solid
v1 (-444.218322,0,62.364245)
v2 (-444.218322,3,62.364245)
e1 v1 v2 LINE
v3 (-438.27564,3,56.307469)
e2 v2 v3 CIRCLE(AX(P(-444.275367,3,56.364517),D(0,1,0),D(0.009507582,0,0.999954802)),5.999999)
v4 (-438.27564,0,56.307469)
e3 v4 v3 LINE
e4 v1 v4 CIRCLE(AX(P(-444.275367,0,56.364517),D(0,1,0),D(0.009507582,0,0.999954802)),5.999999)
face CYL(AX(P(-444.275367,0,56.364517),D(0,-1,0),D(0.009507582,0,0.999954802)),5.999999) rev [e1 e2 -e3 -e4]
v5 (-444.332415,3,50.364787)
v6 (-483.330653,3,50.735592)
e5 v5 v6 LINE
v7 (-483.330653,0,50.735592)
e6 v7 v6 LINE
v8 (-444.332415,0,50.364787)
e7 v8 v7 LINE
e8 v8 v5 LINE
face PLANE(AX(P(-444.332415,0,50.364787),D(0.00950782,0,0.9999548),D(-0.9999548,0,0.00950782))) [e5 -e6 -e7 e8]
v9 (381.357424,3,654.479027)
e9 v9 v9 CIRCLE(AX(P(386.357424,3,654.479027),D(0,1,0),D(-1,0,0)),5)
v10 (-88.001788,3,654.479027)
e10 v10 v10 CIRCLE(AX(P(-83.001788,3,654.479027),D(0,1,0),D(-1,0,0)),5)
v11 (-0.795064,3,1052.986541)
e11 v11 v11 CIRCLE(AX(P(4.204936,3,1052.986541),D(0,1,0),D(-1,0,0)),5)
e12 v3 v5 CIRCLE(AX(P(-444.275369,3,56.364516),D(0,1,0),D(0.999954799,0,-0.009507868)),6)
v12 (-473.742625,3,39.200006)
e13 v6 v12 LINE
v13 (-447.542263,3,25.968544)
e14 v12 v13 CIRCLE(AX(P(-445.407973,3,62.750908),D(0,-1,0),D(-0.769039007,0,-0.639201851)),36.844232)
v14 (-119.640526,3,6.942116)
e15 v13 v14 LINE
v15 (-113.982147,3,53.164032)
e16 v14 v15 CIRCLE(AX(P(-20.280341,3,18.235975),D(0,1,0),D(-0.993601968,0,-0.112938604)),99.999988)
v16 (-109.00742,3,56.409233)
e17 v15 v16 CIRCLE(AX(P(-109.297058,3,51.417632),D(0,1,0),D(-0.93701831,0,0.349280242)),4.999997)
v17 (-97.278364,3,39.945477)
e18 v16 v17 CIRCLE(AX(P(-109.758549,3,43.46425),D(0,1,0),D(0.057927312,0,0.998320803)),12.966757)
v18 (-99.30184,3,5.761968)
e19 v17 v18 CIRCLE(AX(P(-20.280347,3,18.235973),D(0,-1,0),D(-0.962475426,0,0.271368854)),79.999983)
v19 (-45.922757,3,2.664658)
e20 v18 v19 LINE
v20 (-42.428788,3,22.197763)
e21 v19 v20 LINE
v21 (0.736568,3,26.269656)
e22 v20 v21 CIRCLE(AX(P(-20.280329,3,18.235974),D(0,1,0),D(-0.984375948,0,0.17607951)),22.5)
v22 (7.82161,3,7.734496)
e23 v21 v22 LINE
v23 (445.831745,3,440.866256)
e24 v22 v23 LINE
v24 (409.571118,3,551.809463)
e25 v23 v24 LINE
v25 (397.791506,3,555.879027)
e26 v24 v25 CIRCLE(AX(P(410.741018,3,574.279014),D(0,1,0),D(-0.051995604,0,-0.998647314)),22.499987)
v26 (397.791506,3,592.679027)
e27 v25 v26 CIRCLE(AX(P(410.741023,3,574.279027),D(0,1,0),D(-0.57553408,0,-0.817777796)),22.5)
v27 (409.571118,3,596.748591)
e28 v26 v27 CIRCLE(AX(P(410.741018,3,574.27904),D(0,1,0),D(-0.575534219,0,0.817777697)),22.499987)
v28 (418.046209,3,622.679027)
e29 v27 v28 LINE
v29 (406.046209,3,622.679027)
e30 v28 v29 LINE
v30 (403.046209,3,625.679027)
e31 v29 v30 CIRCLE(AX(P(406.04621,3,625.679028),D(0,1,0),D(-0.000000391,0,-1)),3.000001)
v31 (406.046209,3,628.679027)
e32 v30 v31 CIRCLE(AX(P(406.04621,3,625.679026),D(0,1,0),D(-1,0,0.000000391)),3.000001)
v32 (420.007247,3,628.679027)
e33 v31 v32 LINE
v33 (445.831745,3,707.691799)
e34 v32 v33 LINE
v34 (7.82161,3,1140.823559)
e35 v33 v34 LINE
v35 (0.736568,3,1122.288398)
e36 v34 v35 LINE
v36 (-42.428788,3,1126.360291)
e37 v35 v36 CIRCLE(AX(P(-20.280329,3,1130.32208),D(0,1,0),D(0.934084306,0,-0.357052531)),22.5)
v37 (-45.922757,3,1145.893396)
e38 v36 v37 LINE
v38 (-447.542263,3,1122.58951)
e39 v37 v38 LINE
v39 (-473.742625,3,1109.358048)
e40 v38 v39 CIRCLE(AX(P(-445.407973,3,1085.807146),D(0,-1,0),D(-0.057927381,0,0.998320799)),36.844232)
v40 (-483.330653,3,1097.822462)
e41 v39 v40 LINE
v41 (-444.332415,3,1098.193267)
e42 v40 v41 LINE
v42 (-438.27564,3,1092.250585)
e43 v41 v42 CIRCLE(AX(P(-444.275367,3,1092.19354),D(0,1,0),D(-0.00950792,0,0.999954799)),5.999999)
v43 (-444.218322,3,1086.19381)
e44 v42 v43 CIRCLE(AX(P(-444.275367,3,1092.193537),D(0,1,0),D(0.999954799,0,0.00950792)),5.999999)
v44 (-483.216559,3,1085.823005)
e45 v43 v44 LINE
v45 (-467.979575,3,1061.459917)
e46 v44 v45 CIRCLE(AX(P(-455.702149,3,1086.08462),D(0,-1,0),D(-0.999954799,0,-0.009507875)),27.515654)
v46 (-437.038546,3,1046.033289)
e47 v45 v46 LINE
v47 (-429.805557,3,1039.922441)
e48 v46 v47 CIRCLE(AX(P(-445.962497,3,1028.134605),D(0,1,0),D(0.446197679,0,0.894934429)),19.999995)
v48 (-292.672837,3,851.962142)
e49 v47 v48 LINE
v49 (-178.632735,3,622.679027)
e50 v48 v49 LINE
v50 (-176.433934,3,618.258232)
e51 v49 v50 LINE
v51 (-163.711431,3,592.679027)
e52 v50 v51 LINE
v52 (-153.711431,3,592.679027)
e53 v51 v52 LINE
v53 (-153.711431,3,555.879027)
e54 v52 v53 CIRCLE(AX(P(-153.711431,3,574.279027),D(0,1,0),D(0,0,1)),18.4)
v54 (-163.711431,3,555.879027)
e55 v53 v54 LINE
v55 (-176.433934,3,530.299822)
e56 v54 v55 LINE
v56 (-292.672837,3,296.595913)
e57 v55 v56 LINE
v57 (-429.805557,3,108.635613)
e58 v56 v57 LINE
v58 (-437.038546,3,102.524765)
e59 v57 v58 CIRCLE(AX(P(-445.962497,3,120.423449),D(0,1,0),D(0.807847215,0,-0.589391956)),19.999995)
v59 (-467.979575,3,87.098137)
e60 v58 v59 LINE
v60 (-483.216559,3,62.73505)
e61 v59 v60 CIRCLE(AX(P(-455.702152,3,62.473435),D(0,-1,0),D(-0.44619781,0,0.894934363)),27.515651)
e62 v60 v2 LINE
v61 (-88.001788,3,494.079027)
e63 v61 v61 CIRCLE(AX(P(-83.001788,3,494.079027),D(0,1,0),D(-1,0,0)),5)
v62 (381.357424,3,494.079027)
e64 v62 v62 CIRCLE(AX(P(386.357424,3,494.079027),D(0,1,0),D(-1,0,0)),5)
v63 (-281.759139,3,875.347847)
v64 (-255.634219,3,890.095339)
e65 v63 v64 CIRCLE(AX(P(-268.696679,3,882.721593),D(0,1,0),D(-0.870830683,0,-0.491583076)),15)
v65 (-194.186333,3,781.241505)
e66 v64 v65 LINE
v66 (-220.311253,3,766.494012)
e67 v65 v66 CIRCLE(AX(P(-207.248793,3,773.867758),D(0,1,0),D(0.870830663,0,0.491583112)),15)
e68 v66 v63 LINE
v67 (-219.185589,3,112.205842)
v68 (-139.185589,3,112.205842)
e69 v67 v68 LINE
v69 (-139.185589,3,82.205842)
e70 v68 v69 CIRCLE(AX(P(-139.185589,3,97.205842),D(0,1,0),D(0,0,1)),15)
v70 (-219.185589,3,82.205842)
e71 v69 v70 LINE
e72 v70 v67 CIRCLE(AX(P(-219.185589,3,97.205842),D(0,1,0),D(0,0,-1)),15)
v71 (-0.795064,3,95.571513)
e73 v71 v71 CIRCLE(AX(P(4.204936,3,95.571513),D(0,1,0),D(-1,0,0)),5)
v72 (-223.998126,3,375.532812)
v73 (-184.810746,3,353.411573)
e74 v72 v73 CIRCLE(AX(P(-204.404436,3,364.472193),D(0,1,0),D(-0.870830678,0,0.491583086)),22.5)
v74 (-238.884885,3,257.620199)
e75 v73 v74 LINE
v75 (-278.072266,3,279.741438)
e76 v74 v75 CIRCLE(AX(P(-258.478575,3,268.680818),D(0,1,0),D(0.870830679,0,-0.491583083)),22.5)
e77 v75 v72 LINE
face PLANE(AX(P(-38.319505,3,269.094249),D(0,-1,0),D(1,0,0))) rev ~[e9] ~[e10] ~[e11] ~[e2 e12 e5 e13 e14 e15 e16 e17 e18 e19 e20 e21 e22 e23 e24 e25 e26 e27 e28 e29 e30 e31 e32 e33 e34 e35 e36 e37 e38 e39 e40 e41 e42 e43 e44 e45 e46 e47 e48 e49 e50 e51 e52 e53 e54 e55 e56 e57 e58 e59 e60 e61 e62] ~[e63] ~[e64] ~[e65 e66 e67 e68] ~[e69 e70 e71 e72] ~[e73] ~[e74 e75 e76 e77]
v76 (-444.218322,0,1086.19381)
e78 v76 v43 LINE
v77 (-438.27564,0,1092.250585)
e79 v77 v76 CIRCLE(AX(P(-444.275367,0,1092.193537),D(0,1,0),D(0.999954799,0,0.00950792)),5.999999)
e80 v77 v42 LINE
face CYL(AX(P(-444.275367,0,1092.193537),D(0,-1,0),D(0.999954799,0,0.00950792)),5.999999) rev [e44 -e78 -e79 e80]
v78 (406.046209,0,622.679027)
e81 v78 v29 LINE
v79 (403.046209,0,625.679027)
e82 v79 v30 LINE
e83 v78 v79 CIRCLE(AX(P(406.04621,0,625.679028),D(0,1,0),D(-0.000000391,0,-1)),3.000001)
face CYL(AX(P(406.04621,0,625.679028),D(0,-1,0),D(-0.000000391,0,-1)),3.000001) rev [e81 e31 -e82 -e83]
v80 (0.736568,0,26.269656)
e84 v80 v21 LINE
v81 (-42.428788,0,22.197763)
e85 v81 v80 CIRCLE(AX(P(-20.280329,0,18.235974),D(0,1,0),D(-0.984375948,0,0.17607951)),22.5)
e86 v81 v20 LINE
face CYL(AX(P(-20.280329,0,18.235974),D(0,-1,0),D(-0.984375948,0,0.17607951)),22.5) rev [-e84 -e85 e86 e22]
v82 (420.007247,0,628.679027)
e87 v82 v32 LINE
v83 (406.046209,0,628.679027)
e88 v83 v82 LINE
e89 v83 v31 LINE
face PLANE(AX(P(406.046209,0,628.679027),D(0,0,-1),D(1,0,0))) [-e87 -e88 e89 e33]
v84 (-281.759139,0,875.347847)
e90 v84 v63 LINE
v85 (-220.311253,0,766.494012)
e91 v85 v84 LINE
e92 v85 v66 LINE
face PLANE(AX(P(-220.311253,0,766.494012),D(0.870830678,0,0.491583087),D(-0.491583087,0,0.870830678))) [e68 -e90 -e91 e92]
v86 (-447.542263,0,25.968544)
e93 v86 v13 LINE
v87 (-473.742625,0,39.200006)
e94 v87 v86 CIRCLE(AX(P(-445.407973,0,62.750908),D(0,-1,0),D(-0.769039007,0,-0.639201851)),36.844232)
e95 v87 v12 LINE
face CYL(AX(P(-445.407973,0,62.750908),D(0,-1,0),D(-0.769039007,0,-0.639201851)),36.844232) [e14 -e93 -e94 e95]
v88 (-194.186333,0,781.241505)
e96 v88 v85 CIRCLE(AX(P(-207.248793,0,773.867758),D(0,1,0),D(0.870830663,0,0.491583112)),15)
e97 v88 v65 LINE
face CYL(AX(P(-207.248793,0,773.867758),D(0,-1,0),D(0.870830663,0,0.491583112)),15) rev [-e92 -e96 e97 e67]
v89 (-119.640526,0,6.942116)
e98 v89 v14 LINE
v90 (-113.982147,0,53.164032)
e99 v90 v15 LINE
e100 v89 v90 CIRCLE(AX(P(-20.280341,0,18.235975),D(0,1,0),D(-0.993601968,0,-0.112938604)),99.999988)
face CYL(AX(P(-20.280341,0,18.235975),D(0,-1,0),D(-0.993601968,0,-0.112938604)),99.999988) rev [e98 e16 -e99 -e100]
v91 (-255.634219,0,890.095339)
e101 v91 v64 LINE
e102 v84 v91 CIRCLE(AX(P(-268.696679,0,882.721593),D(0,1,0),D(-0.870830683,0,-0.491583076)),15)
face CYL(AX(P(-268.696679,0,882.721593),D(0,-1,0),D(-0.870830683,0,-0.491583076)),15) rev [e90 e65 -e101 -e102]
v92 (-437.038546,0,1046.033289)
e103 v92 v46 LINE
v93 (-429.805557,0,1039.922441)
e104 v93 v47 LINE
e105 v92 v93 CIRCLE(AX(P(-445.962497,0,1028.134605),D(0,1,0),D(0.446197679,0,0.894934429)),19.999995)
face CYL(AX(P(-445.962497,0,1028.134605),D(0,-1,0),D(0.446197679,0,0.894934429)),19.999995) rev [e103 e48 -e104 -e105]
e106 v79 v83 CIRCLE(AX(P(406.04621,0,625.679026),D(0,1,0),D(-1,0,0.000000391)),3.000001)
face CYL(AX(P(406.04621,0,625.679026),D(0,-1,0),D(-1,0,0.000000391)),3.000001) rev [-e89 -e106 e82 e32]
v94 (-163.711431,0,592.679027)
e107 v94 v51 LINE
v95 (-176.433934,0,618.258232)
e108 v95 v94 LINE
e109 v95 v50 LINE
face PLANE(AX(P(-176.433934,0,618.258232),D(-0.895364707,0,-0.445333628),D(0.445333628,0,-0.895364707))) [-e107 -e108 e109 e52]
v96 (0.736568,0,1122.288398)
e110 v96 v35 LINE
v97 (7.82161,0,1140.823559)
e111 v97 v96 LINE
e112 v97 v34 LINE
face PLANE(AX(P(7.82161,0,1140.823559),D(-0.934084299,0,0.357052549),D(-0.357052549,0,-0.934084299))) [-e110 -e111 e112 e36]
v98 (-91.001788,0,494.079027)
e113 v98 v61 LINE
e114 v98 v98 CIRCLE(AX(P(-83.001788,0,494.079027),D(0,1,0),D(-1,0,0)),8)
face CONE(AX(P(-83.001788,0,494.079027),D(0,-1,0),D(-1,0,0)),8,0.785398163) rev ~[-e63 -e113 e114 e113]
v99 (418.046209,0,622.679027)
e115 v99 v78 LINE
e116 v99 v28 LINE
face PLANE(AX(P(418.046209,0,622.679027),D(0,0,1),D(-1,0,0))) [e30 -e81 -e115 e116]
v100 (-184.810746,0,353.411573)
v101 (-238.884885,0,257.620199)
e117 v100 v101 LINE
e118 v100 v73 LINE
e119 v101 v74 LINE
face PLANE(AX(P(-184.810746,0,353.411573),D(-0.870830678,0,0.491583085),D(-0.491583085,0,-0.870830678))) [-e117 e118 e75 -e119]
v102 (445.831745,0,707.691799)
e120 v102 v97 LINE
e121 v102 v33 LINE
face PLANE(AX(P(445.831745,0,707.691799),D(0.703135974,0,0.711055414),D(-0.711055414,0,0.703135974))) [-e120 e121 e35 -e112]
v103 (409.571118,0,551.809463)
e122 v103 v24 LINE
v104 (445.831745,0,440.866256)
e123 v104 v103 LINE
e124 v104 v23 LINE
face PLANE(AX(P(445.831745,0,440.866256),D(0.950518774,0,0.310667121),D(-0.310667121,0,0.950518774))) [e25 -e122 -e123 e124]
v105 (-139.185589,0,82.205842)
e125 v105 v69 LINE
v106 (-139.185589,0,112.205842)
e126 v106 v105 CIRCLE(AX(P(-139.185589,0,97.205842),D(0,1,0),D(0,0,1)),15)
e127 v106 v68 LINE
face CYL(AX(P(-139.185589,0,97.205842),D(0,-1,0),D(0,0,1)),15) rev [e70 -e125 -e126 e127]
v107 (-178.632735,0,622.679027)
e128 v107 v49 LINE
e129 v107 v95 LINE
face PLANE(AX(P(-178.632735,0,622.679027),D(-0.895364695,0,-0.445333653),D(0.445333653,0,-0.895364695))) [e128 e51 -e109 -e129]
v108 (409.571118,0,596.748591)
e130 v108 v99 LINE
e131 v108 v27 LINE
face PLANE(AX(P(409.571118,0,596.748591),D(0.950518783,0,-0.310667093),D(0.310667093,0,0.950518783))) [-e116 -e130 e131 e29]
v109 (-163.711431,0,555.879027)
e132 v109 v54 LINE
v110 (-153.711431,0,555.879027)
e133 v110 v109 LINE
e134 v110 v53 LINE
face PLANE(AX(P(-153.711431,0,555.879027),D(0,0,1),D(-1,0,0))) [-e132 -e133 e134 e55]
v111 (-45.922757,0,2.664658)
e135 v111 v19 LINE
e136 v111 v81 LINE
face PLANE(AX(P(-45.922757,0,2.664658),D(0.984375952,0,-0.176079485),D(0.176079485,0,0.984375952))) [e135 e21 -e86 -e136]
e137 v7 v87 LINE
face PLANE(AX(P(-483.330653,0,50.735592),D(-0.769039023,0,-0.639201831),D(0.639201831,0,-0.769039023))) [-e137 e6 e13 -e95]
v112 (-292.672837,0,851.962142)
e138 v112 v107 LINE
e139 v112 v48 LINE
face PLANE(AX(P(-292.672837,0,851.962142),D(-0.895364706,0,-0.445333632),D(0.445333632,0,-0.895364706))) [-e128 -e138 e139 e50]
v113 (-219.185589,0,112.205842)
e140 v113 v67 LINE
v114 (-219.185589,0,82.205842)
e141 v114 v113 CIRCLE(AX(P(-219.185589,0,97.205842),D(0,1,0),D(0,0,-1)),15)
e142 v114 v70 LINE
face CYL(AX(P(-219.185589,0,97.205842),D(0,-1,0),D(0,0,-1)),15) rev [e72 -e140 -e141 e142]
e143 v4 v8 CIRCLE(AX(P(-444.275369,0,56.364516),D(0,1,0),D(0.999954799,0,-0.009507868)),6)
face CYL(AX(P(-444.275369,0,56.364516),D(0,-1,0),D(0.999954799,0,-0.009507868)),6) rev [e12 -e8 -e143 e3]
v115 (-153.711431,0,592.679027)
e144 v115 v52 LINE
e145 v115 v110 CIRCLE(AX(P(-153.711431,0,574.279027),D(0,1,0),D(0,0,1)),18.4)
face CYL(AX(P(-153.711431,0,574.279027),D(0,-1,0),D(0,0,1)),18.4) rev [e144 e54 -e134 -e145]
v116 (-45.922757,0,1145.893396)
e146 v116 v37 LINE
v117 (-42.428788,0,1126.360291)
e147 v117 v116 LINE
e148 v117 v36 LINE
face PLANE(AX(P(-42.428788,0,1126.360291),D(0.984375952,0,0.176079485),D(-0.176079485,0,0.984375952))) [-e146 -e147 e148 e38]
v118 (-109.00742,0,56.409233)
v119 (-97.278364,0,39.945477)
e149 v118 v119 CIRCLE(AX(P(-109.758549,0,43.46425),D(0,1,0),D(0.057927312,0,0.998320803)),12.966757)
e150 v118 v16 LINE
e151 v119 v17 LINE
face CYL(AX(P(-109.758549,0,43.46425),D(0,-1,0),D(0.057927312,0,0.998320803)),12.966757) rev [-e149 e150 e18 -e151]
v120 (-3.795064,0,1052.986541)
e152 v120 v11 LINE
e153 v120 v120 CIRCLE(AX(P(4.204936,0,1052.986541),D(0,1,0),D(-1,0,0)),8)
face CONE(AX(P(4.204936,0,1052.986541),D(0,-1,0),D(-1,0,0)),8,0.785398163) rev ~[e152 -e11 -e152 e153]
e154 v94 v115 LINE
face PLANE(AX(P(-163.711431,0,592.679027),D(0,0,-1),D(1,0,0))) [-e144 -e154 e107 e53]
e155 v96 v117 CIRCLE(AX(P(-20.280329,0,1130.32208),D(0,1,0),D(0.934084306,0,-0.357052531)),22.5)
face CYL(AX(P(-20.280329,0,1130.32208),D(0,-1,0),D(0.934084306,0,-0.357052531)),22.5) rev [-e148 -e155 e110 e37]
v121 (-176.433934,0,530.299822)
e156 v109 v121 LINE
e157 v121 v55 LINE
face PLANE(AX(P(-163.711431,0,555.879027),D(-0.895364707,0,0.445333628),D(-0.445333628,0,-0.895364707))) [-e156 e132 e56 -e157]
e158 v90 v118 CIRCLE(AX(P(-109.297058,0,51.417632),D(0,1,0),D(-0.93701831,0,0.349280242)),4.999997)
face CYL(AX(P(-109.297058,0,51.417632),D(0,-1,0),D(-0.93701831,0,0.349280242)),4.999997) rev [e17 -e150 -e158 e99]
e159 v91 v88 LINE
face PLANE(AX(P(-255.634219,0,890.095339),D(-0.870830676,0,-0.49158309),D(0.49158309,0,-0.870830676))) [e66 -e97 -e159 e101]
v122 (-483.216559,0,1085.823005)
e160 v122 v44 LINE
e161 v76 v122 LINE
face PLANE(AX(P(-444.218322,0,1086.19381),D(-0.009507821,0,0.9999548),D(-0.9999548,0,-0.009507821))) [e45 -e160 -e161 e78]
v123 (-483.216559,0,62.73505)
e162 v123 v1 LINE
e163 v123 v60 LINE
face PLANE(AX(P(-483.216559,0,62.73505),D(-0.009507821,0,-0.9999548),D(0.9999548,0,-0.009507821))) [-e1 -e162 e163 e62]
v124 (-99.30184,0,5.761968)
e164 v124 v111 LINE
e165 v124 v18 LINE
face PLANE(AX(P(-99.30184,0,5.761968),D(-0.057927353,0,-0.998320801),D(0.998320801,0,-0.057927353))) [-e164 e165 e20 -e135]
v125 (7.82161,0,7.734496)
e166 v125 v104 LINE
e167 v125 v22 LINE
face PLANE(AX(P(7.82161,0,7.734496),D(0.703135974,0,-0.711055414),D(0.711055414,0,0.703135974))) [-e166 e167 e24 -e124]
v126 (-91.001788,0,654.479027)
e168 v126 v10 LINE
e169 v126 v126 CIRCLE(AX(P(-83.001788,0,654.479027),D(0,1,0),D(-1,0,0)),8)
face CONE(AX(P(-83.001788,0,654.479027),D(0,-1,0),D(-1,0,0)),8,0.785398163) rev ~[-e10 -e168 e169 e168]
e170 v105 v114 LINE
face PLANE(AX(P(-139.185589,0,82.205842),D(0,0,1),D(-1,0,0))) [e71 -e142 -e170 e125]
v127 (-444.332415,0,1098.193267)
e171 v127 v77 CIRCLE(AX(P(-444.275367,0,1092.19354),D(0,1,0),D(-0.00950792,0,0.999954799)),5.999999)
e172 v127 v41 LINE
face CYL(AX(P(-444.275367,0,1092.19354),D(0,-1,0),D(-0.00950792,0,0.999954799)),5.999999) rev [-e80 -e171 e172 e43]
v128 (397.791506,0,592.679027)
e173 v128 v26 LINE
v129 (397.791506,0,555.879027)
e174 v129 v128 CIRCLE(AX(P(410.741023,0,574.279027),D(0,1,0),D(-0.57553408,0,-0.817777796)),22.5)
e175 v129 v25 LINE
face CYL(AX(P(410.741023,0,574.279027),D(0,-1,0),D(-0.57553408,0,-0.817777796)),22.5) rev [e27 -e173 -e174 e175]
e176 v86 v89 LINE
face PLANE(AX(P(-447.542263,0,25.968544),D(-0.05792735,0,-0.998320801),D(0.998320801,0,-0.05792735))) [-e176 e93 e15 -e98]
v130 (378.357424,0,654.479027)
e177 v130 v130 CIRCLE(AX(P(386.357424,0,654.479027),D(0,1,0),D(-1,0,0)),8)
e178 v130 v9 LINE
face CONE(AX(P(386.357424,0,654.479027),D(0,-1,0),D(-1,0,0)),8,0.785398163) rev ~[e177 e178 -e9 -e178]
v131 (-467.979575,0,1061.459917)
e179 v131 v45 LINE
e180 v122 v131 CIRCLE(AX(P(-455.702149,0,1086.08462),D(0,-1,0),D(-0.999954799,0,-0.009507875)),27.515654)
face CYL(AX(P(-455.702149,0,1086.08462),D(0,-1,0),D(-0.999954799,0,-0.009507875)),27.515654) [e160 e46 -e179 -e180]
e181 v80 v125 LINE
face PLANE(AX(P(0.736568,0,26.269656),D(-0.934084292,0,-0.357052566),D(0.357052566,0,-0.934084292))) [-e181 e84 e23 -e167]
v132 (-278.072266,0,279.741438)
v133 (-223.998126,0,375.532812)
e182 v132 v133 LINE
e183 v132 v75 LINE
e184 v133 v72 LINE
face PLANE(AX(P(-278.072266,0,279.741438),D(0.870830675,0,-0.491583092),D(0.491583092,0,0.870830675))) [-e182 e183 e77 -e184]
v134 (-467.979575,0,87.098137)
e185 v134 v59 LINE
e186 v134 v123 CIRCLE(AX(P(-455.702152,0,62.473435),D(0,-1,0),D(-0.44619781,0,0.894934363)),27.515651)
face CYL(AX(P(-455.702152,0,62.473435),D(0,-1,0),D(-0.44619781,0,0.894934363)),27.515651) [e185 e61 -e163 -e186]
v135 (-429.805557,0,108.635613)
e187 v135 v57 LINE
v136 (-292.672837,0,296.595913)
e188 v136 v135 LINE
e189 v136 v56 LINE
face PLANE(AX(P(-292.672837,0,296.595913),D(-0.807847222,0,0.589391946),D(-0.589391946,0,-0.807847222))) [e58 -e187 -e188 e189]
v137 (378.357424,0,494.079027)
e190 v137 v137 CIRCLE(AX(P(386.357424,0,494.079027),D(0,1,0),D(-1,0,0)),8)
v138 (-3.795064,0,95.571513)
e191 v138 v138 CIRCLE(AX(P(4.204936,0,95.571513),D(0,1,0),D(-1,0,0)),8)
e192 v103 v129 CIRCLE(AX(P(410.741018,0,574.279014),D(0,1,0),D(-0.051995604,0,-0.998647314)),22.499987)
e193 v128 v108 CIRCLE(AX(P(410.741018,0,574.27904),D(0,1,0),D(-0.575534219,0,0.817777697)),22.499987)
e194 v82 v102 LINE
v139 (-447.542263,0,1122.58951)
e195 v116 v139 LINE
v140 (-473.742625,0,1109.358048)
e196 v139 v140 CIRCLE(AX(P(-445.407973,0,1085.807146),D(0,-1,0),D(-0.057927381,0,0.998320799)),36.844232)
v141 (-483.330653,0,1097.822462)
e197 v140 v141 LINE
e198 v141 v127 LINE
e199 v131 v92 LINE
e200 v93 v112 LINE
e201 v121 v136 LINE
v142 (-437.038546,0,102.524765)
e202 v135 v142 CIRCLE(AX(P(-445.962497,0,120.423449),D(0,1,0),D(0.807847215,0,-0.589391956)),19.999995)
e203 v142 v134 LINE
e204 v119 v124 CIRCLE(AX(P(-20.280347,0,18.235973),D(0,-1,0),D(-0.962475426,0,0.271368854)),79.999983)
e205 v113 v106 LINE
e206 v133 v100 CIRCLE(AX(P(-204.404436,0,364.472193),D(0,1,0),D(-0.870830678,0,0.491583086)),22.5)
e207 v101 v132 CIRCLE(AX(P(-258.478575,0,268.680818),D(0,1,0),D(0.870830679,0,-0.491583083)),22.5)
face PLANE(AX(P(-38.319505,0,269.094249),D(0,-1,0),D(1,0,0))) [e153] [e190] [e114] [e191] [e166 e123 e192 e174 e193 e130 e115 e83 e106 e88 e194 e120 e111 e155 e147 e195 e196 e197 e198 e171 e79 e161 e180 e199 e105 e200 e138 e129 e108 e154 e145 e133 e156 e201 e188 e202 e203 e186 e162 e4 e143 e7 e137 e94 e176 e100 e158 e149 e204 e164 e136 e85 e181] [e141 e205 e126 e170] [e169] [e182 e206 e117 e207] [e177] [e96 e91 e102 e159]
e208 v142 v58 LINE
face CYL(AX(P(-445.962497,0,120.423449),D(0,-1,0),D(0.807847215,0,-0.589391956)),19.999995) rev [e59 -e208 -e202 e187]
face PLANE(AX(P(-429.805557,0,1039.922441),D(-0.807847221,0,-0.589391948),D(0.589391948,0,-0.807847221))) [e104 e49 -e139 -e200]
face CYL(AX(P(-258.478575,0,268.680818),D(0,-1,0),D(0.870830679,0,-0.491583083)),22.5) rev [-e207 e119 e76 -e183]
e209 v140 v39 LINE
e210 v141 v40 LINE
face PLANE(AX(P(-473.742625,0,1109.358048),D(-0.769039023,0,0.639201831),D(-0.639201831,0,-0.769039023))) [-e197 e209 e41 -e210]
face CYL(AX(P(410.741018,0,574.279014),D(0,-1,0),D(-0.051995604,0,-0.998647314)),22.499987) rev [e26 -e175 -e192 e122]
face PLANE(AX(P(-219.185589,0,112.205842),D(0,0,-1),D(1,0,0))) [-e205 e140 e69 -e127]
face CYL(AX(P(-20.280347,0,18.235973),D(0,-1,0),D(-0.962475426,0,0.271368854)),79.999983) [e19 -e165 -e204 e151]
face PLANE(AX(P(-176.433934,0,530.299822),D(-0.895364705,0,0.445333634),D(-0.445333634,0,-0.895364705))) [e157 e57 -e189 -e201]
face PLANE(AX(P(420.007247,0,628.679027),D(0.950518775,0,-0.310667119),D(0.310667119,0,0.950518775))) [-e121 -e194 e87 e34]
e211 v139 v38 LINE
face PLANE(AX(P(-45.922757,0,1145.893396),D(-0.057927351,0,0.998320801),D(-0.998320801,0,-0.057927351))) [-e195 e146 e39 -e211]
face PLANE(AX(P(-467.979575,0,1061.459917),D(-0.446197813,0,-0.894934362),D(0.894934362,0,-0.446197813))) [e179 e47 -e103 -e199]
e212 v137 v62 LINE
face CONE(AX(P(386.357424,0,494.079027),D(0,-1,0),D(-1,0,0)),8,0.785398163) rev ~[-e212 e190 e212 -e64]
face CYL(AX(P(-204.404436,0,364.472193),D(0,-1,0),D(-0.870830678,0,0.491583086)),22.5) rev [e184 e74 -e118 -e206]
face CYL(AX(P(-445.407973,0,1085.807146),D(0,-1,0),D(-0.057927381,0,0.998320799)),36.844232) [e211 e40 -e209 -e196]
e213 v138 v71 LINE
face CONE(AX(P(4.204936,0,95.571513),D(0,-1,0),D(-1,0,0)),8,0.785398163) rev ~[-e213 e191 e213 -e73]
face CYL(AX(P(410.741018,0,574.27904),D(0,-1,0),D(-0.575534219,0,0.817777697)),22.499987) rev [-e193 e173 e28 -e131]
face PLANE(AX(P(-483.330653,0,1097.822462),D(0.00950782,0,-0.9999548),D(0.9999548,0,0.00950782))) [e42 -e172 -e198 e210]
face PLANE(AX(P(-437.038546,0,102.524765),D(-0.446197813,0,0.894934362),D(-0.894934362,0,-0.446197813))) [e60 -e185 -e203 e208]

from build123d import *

# Parameters (mm, degrees)
F1_DEPTH       = 3
F2_D           = 8
F2_CSINK_D     = 16
F2_CSINK_ANGLE = 90


with BuildPart() as f1:
    # F0 (on Front) → F1 (new body)
    with BuildSketch(Plane.XZ):
        with BuildLine():
            ThreePointArc((-42.428788, 22.197763), (-22.393428, 40.636528), (0.736568, 26.269656))
            Line((0.736568, 26.269656), (7.82161, 7.734496))
            Line((7.82161, 7.734496), (445.831745, 440.866256))
            Line((445.831745, 440.866256), (409.571118, 551.809463))
            ThreePointArc((409.571118, 551.809463), (403.393924, 553.012383), (397.791506, 555.879027))
            Line((397.791506, 555.879027), (-153.711431, 555.879027))
            Line((-153.711431, 555.879027), (-163.711431, 555.879027))
            Line((-163.711431, 555.879027), (-176.433934, 530.299822))
            Line((-176.433934, 530.299822), (-292.672837, 296.595913))
            Line((-292.672837, 296.595913), (-429.805557, 108.635613))
            ThreePointArc((-429.805557, 108.635613), (-433.055197, 105.145969), (-437.038546, 102.524765))
            Line((-437.038546, 102.524765), (-467.979575, 87.098137))
            ThreePointArc((-467.979575, 87.098137), (-479.031049, 77.063624), (-483.216559, 62.73505))
            Line((-483.216559, 62.73505), (-444.218322, 62.364245))
            ThreePointArc((-444.218322, 62.364245), (-439.992581, 60.566627), (-438.27564, 56.307469))
            ThreePointArc((-438.27564, 56.307469), (-440.073258, 52.081729), (-444.332415, 50.364787))
            Line((-444.332415, 50.364787), (-483.330653, 50.735592))
            Line((-483.330653, 50.735592), (-473.742625, 39.200006))
            ThreePointArc((-473.742625, 39.200006), (-462.016917, 29.862605), (-447.542263, 25.968544))
            Line((-447.542263, 25.968544), (-119.640526, 6.942116))
            ThreePointArc((-119.640526, 6.942116), (-119.539343, 30.38703), (-113.982147, 53.164032))
            ThreePointArc((-113.982147, 53.164032), (-112.028876, 55.605369), (-109.00742, 56.409233))
            Line((-109.00742, 56.409233), (-91.138541, 55.372396))
            ThreePointArc((-91.138541, 55.372396), (-94.609764, 47.818656), (-97.278364, 39.945477))
            ThreePointArc((-97.278364, 39.945477), (-100.140537, 22.963258), (-99.30184, 5.761968))
            Line((-99.30184, 5.761968), (-45.922757, 2.664658))
            Line((-45.922757, 2.664658), (-42.428788, 22.197763))
        make_face()
        with BuildLine():
            ThreePointArc((-219.185589, 82.205842), (-234.185589, 97.205842), (-219.185589, 112.205842))
            Line((-219.185589, 112.205842), (-139.185589, 112.205842))
            ThreePointArc((-139.185589, 112.205842), (-124.185589, 97.205842), (-139.185589, 82.205842))
            Line((-139.185589, 82.205842), (-219.185589, 82.205842))
        make_face(mode=Mode.SUBTRACT)
        with BuildLine():
            ThreePointArc((-238.884885, 257.620199), (-269.539195, 249.087128), (-278.072266, 279.741438))
            Line((-278.072266, 279.741438), (-223.998126, 375.532812))
            ThreePointArc((-223.998126, 375.532812), (-193.343817, 384.065883), (-184.810746, 353.411573))
            Line((-184.810746, 353.411573), (-238.884885, 257.620199))
        make_face(mode=Mode.SUBTRACT)
        with BuildLine():
            ThreePointArc((-109.00742, 56.409233), (-99.197738, 50.987949), (-97.278364, 39.945477))
            ThreePointArc((-97.278364, 39.945477), (-94.609764, 47.818656), (-91.138541, 55.372396))
            Line((-91.138541, 55.372396), (-109.00742, 56.409233))
        make_face()
        with BuildLine():
            Line((-153.711431, 555.879027), (397.791506, 555.879027))
            ThreePointArc((397.791506, 555.879027), (388.241023, 574.279027), (397.791506, 592.679027))
            Line((397.791506, 592.679027), (-153.711431, 592.679027))
            ThreePointArc((-153.711431, 592.679027), (-135.311431, 574.279027), (-153.711431, 555.879027))
        make_face()
        with BuildLine():
            Line((-153.711431, 592.679027), (397.791506, 592.679027))
            ThreePointArc((397.791506, 592.679027), (403.393924, 595.545671), (409.571118, 596.748591))
            Line((409.571118, 596.748591), (418.046209, 622.679027))
            Line((418.046209, 622.679027), (406.046209, 622.679027))
            ThreePointArc((406.046209, 622.679027), (403.924889, 623.557707), (403.046209, 625.679027))
            ThreePointArc((403.046209, 625.679027), (403.924889, 627.800347), (406.046209, 628.679027))
            Line((406.046209, 628.679027), (420.007247, 628.679027))
            Line((420.007247, 628.679027), (445.831745, 707.691799))
            Line((445.831745, 707.691799), (7.82161, 1140.823559))
            Line((7.82161, 1140.823559), (0.736568, 1122.288398))
            ThreePointArc((0.736568, 1122.288398), (-22.393428, 1107.921526), (-42.428788, 1126.360291))
            Line((-42.428788, 1126.360291), (-45.922757, 1145.893396))
            Line((-45.922757, 1145.893396), (-447.542263, 1122.58951))
            ThreePointArc((-447.542263, 1122.58951), (-462.016917, 1118.695449), (-473.742625, 1109.358048))
            Line((-473.742625, 1109.358048), (-483.330653, 1097.822462))
            Line((-483.330653, 1097.822462), (-444.332415, 1098.193267))
            ThreePointArc((-444.332415, 1098.193267), (-440.073258, 1096.476326), (-438.27564, 1092.250585))
            ThreePointArc((-438.27564, 1092.250585), (-439.992581, 1087.991428), (-444.218322, 1086.19381))
            Line((-444.218322, 1086.19381), (-483.216559, 1085.823005))
            ThreePointArc((-483.216559, 1085.823005), (-479.031049, 1071.494431), (-467.979575, 1061.459917))
            Line((-467.979575, 1061.459917), (-437.038546, 1046.033289))
            ThreePointArc((-437.038546, 1046.033289), (-433.055197, 1043.412085), (-429.805557, 1039.922441))
            Line((-429.805557, 1039.922441), (-292.672837, 851.962142))
            Line((-292.672837, 851.962142), (-178.632735, 622.679027))
            Line((-178.632735, 622.679027), (-176.433934, 618.258232))
            Line((-176.433934, 618.258232), (-163.711431, 592.679027))
            Line((-163.711431, 592.679027), (-153.711431, 592.679027))
        make_face()
        with BuildLine():
            ThreePointArc((-281.759139, 875.347847), (-276.070425, 895.784053), (-255.634219, 890.095339))
            Line((-255.634219, 890.095339), (-194.186333, 781.241505))
            ThreePointArc((-194.186333, 781.241505), (-199.875047, 760.805298), (-220.311253, 766.494012))
            Line((-220.311253, 766.494012), (-281.759139, 875.347847))
        make_face(mode=Mode.SUBTRACT)
    extrude(amount=-F1_DEPTH)

    # F2 (through all)
    with Locations(Plane.XZ):
        with Locations((386.357424, 494.079027), (-83.001788, 494.079027), (4.204936, 95.571513), (-83.001788, 654.479027), (4.204936, 1052.986541), (386.357424, 654.479027)):
            CounterSinkHole(F2_D / 2, F2_CSINK_D / 2, counter_sink_angle=F2_CSINK_ANGLE)


solid = f1.part
